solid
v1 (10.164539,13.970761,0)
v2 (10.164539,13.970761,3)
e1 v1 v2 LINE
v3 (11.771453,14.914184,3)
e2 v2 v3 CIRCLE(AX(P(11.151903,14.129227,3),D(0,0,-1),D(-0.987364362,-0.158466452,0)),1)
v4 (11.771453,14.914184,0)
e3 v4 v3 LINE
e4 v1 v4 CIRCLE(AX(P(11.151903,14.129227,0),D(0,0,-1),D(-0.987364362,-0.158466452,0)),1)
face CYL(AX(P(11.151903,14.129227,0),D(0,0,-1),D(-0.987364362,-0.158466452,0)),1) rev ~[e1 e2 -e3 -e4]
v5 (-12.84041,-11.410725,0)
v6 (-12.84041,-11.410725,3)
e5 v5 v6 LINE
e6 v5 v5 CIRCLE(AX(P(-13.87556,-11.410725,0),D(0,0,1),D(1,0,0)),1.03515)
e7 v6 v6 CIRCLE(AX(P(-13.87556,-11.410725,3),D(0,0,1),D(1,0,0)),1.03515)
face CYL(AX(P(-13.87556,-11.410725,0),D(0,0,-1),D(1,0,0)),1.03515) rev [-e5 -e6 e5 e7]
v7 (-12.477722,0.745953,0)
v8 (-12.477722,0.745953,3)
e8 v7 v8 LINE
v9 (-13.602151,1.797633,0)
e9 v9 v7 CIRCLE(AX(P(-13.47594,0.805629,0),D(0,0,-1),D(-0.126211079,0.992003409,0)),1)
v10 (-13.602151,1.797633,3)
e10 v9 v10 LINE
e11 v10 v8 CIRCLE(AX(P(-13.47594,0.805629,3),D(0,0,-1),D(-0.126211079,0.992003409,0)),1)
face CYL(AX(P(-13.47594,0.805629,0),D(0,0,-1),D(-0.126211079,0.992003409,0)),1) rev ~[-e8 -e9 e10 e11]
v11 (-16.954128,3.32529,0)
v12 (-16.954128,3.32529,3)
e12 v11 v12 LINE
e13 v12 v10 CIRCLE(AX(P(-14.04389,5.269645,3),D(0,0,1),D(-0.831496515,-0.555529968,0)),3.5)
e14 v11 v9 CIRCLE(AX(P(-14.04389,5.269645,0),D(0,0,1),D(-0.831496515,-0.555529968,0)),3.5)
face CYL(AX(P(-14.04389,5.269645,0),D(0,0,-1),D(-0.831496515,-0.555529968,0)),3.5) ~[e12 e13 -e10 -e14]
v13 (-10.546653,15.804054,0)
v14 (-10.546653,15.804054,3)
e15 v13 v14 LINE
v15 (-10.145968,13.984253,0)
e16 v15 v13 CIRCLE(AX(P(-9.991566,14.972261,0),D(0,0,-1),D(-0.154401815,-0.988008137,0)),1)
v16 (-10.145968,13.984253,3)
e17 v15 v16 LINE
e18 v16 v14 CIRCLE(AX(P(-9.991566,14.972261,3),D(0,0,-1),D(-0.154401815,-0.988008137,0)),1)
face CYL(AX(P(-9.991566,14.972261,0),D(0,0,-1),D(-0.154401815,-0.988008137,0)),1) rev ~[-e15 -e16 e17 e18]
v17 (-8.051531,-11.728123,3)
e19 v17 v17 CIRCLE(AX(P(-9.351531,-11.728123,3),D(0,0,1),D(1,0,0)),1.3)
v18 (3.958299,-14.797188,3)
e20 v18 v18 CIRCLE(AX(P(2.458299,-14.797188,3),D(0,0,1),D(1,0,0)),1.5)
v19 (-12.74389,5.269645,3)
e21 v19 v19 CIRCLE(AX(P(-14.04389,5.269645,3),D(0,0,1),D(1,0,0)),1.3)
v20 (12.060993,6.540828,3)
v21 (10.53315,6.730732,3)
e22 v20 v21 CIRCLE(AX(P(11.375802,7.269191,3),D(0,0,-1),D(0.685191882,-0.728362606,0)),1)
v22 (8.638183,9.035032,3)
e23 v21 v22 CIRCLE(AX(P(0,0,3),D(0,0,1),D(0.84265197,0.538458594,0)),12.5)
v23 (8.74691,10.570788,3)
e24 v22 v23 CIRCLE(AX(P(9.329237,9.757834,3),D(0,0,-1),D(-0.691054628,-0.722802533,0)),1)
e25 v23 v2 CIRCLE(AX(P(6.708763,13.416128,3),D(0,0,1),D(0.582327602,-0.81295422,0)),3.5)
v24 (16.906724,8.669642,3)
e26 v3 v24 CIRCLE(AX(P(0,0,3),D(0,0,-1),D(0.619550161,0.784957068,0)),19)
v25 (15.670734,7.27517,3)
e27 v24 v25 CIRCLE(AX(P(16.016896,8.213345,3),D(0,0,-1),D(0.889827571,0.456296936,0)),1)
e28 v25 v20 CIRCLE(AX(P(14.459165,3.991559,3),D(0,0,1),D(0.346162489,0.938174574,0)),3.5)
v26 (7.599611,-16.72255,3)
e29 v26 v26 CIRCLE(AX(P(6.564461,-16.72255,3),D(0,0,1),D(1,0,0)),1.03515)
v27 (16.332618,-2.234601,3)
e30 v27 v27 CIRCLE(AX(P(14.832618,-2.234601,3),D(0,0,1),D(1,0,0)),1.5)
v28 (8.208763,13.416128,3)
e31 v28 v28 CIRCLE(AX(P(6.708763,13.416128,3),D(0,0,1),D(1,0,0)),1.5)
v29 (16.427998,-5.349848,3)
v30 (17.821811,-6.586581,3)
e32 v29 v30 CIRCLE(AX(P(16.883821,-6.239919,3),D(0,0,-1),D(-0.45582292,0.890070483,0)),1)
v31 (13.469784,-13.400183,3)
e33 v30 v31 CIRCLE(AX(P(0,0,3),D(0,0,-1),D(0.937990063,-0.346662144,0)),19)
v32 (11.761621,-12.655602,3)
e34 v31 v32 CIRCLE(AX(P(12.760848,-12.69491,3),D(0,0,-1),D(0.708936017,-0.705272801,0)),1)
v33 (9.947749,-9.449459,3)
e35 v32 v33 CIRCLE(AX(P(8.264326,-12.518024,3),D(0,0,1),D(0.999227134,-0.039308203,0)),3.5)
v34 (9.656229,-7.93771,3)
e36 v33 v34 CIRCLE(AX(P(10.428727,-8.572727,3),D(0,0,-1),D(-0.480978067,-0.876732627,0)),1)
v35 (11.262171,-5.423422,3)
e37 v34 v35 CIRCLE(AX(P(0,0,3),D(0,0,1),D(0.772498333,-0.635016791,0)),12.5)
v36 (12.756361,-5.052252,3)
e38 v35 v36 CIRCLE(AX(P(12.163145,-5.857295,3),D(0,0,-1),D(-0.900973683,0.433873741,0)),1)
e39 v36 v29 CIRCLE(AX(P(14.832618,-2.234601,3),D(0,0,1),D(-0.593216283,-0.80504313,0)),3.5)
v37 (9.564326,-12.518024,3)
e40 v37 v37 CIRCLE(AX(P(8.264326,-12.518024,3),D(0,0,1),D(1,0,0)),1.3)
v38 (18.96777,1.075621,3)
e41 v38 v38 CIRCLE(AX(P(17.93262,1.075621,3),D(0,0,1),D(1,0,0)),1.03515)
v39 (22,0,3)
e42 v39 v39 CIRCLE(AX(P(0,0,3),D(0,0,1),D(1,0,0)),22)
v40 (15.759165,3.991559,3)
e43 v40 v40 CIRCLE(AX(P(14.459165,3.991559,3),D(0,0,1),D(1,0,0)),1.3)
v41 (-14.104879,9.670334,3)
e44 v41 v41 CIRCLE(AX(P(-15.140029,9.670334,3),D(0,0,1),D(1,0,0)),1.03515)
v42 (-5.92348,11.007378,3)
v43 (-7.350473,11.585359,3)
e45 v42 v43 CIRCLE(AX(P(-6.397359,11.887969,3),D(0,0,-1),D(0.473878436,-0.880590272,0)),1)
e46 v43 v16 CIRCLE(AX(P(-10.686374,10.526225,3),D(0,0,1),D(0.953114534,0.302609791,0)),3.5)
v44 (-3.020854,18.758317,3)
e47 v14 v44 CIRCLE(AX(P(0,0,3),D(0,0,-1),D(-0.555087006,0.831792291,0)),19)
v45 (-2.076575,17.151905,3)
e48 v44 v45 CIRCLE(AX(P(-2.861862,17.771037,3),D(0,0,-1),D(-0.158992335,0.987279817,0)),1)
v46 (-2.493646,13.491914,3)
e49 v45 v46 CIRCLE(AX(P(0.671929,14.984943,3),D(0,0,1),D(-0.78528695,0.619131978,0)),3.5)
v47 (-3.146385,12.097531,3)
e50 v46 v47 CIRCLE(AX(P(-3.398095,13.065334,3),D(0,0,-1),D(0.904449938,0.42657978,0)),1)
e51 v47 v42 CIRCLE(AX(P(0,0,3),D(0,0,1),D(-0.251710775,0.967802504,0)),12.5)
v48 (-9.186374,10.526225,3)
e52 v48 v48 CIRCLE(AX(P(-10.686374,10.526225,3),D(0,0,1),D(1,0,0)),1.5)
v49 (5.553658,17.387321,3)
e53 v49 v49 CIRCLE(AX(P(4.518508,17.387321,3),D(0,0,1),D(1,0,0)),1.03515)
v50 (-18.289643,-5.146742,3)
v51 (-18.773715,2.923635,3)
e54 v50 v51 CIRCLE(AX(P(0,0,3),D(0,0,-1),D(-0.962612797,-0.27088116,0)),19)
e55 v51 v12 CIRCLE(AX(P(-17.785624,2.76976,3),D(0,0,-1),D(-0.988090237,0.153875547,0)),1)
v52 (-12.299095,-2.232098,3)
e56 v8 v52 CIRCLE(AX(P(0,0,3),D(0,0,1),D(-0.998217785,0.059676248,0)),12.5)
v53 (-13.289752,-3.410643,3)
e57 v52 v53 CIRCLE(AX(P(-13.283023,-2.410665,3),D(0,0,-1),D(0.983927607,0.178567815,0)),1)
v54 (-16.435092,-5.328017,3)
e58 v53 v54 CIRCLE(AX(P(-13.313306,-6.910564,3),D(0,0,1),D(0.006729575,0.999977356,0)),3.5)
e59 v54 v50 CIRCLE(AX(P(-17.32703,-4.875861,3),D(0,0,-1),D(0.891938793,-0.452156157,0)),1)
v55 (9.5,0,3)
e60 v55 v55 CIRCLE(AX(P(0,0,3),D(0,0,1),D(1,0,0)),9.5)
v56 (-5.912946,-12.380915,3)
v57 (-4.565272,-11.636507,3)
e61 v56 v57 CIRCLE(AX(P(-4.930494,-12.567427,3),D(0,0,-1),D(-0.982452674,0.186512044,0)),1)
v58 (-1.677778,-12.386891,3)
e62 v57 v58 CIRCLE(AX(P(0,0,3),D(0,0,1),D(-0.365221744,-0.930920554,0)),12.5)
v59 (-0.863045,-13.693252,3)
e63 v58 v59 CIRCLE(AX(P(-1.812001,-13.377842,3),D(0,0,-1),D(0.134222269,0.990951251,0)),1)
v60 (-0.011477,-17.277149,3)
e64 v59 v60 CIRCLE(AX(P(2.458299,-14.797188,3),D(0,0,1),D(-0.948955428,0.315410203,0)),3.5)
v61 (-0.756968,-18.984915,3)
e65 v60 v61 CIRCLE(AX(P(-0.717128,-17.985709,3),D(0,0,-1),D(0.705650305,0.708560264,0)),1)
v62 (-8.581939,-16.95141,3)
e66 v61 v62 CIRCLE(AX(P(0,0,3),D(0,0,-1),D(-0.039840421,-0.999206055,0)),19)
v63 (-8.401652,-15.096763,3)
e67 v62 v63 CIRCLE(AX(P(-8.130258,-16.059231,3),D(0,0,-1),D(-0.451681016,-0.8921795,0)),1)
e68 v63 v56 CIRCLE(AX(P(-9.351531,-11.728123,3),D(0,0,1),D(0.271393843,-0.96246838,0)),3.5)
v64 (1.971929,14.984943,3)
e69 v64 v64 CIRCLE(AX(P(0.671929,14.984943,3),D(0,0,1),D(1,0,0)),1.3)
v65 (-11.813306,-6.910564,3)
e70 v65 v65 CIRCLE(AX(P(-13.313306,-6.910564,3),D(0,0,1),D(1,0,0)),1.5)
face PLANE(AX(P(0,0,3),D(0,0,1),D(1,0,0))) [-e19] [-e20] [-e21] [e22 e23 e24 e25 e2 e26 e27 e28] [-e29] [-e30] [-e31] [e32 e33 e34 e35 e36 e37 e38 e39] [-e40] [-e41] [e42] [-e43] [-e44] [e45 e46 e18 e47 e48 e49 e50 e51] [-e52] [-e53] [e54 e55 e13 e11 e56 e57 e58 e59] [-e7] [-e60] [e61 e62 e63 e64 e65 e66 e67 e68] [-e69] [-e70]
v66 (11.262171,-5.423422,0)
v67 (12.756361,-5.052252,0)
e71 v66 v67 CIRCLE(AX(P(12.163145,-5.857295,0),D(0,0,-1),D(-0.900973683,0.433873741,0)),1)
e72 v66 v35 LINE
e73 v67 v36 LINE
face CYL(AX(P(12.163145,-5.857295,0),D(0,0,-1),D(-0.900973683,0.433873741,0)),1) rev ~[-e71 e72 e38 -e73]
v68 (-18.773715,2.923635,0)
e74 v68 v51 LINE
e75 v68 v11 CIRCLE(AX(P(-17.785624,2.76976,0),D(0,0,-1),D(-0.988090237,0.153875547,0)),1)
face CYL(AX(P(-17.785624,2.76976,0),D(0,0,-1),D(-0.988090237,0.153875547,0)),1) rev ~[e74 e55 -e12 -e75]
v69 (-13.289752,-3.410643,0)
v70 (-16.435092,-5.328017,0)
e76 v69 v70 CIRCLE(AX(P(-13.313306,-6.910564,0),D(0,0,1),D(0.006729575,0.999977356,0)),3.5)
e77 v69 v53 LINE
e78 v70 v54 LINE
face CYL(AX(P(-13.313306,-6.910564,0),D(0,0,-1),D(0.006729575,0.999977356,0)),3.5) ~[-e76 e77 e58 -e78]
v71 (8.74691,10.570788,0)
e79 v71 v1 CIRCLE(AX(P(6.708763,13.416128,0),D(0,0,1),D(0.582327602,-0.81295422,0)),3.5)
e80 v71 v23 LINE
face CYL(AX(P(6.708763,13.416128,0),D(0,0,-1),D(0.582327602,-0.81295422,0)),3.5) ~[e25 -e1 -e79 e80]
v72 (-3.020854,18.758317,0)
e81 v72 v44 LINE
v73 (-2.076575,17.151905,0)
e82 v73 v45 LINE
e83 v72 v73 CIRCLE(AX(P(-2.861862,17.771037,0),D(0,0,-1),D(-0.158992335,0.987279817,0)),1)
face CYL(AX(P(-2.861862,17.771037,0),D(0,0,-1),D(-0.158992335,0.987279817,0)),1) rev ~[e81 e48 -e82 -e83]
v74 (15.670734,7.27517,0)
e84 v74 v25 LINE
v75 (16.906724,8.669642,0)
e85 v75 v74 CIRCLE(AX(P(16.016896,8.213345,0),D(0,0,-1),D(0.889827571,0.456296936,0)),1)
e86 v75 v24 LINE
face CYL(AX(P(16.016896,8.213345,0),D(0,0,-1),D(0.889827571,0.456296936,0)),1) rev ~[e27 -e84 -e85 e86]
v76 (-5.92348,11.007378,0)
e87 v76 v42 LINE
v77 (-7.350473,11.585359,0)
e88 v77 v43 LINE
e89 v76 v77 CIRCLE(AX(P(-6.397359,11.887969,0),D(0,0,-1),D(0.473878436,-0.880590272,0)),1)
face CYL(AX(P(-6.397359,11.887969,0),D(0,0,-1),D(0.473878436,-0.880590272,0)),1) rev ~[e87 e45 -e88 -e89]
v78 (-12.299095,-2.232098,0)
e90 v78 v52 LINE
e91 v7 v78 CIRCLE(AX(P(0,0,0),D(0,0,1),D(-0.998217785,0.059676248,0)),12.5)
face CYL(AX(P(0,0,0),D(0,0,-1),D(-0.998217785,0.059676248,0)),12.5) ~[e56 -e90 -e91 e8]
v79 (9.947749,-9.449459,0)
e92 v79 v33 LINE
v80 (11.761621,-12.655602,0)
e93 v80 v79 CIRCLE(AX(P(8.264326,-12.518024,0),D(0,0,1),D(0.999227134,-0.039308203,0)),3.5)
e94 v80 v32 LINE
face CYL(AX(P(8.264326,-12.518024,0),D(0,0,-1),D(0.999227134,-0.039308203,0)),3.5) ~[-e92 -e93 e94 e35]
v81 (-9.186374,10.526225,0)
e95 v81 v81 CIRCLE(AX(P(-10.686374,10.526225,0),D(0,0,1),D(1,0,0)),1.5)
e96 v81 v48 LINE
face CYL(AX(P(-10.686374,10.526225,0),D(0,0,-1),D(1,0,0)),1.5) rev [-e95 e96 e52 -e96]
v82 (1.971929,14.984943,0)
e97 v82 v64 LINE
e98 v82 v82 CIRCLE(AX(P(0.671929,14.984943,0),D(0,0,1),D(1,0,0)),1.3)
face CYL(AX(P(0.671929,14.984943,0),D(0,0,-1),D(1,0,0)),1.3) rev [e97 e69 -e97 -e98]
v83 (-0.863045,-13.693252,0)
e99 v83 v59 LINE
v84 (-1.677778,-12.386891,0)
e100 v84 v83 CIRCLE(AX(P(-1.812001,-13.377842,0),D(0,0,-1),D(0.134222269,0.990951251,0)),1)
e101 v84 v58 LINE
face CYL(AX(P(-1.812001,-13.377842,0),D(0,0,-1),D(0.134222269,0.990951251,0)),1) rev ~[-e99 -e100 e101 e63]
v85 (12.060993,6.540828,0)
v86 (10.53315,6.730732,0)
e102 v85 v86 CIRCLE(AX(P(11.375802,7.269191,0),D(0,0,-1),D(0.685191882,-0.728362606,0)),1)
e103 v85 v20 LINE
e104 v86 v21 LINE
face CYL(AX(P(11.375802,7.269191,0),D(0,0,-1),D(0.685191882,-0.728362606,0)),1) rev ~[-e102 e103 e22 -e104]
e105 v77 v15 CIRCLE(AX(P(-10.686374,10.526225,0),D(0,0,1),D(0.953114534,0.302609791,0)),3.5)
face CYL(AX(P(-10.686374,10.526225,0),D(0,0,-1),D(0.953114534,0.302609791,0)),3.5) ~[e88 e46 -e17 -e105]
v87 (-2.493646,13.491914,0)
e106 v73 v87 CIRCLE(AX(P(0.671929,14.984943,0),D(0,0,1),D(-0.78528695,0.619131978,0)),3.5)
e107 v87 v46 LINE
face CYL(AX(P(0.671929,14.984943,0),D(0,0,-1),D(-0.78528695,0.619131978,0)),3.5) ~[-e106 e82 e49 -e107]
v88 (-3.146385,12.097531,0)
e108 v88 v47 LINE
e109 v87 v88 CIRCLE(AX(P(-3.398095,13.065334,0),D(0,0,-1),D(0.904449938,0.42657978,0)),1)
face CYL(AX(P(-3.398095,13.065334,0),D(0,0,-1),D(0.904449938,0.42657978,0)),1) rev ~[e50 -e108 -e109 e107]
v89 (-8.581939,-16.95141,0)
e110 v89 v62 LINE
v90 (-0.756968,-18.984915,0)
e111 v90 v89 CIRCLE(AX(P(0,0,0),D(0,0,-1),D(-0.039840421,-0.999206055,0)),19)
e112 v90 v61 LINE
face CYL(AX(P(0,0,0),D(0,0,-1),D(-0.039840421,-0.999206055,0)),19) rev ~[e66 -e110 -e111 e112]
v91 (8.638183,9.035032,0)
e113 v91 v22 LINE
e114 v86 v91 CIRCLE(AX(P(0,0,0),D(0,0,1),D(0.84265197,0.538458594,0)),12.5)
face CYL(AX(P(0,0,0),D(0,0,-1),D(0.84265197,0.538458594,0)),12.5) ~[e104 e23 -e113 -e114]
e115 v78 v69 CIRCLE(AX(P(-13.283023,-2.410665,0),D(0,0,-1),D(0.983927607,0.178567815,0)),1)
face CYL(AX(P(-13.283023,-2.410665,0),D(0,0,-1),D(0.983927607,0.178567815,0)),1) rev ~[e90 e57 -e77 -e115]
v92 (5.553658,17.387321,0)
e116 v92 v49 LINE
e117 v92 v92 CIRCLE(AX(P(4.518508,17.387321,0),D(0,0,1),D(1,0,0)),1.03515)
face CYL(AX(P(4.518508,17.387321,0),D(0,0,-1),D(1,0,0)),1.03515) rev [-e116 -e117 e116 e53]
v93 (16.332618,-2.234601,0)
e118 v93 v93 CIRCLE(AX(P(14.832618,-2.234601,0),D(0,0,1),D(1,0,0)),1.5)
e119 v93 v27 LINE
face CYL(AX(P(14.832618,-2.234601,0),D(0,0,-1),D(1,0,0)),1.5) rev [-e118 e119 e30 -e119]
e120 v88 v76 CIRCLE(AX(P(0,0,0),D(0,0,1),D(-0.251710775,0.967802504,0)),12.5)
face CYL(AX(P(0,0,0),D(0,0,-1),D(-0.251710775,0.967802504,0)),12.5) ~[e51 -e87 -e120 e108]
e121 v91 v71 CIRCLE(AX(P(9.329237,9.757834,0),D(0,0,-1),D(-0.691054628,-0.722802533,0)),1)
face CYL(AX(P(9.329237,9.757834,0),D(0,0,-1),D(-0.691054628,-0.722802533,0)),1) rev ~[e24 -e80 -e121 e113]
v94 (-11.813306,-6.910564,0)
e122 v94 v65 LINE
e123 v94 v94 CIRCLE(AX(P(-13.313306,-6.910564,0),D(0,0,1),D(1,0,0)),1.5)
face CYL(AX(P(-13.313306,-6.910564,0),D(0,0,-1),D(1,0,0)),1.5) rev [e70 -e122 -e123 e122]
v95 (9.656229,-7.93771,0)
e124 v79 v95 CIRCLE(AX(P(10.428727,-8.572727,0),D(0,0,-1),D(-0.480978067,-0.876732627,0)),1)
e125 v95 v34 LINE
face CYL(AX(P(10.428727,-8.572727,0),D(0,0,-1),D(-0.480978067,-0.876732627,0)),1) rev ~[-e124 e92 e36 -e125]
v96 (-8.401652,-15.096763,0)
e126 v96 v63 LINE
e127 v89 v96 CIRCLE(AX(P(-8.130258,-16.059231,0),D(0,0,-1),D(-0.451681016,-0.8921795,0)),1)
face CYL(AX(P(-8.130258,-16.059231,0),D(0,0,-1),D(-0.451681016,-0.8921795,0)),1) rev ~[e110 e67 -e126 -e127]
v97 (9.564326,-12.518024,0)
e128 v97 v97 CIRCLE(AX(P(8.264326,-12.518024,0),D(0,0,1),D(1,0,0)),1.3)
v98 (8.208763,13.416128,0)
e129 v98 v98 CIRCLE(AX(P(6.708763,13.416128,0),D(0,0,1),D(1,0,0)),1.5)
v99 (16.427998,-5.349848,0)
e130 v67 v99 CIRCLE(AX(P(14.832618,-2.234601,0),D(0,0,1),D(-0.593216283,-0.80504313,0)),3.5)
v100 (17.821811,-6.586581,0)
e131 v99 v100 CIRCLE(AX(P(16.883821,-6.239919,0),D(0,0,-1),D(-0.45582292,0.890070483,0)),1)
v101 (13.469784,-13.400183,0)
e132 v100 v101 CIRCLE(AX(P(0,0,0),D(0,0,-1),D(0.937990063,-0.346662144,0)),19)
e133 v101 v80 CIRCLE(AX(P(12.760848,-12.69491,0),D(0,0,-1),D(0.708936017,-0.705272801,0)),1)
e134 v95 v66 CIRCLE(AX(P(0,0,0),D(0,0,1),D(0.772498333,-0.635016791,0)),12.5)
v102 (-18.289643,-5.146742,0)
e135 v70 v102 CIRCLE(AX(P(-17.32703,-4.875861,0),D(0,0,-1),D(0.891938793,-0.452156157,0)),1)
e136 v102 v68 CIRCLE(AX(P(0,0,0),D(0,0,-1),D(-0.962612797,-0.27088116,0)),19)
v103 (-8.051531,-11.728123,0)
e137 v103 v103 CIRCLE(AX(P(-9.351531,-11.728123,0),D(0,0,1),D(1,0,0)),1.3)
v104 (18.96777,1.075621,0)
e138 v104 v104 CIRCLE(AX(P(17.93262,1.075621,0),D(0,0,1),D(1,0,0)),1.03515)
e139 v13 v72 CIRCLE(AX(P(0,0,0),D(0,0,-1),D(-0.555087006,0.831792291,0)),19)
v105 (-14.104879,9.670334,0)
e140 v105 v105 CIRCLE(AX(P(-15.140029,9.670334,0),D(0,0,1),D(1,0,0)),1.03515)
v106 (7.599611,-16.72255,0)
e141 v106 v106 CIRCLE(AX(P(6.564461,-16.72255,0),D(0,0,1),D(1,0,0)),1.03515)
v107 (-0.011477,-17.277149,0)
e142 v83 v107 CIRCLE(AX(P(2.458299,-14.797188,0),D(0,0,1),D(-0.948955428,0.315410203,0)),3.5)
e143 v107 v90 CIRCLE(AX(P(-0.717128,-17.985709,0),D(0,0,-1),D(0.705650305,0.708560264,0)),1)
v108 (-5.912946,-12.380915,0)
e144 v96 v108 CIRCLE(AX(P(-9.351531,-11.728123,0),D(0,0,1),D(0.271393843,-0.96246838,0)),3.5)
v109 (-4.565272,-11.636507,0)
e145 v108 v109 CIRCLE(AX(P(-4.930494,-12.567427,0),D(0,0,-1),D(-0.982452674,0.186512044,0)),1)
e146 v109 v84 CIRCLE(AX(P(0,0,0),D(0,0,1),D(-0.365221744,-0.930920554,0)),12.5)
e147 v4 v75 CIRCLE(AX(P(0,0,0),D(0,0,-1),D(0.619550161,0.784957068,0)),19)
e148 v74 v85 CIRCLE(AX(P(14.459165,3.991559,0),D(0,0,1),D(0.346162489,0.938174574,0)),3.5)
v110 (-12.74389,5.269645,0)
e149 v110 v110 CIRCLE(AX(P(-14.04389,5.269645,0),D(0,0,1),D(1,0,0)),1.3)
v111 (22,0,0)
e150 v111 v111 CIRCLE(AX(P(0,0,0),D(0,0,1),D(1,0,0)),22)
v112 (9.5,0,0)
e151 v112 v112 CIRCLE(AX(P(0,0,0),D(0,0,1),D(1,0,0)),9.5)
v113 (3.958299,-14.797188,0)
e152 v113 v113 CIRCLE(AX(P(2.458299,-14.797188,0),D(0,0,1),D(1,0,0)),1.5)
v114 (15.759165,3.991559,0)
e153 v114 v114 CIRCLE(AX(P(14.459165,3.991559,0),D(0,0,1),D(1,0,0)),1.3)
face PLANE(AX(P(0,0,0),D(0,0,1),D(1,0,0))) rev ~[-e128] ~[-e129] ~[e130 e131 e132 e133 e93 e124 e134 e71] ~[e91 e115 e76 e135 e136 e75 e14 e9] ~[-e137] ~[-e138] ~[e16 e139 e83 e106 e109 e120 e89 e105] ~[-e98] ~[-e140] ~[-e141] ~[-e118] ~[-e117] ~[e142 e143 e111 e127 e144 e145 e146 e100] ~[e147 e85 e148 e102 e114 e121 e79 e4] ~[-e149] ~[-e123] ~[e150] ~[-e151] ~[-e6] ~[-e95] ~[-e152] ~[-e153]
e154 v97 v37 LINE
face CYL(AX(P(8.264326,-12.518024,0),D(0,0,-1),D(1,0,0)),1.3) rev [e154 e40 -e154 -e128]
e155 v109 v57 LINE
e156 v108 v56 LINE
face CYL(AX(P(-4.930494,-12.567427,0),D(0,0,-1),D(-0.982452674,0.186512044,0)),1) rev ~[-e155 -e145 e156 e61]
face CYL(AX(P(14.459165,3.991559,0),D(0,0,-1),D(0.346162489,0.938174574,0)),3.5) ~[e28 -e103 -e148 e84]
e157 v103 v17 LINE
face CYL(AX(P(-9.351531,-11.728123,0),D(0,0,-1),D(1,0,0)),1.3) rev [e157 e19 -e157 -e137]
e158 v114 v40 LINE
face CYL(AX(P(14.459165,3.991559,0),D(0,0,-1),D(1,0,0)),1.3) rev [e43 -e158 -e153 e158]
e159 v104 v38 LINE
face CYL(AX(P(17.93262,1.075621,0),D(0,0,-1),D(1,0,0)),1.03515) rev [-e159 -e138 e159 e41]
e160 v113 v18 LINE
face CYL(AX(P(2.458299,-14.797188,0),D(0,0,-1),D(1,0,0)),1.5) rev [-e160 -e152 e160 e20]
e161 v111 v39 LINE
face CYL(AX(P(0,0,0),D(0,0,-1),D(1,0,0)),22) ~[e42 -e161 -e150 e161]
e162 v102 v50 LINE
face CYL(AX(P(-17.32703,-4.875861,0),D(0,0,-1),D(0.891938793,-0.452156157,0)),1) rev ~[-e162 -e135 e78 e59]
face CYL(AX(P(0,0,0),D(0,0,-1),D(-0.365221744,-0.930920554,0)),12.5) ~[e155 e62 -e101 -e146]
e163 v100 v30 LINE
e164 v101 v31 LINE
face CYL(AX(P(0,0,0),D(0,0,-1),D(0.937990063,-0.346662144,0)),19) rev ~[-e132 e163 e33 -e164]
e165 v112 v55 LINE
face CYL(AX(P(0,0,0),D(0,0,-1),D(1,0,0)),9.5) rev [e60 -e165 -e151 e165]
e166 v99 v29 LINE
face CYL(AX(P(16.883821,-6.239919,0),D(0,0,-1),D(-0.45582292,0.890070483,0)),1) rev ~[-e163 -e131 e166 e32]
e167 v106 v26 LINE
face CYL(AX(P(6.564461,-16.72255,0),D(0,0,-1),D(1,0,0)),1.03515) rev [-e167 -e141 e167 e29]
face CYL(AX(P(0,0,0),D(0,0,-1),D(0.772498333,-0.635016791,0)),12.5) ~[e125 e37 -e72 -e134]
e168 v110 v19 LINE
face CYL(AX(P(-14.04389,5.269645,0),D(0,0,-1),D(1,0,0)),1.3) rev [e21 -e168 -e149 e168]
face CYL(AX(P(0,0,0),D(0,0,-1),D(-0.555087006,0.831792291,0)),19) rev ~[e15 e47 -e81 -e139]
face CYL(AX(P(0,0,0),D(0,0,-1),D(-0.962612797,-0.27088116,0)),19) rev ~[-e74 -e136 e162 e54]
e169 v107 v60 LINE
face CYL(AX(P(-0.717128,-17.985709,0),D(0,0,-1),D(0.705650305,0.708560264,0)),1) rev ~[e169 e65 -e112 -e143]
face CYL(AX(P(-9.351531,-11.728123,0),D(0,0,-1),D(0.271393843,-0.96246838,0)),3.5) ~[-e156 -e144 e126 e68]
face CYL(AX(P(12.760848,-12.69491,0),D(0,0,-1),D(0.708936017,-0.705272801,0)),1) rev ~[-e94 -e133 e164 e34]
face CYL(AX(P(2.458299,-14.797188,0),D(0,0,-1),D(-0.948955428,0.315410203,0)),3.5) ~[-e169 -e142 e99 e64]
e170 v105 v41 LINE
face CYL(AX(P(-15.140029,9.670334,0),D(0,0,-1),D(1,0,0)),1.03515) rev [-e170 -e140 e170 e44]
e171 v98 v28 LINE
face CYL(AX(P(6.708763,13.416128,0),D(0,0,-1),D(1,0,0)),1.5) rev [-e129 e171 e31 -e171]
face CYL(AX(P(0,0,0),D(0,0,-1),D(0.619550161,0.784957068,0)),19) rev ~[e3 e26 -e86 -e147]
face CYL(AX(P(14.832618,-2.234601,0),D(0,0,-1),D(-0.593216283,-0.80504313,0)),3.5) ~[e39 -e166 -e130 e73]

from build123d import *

# Parameters (mm, degrees)
SKETCH_1_R      = 22
SKETCH_1_R_2    = 9.5
SKETCH_1_R_3    = 1.3
SKETCH_1_R_4    = 1.5
SKETCH_1_R_5    = 1.035150144
EXTRUDE_1_DEPTH = 3


with BuildPart() as part:
    # 草图1 → 凸台-拉伸1 (new body)
    with BuildSketch(Plane.XY):
        Circle(SKETCH_1_R)
        Circle(SKETCH_1_R_2, mode=Mode.SUBTRACT)
        with Locations((8.264326198, -12.518023506)):
            Circle(SKETCH_1_R_3, mode=Mode.SUBTRACT)
        with Locations((-9.351530584, -11.728123283)):
            Circle(SKETCH_1_R_3, mode=Mode.SUBTRACT)
        with Locations((-14.043889946, 5.269644693)):
            Circle(SKETCH_1_R_3, mode=Mode.SUBTRACT)
        with Locations((0.671929263, 14.984942812)):
            Circle(SKETCH_1_R_3, mode=Mode.SUBTRACT)
        with Locations((14.459165069, 3.991559284)):
            Circle(SKETCH_1_R_3, mode=Mode.SUBTRACT)
        with Locations((6.708763262, 13.416128186)):
            Circle(SKETCH_1_R_4, mode=Mode.SUBTRACT)
        with Locations((14.832617994, -2.234601409)):
            Circle(SKETCH_1_R_4, mode=Mode.SUBTRACT)
        with Locations((2.4582988, -14.797187807)):
            Circle(SKETCH_1_R_4, mode=Mode.SUBTRACT)
        with Locations((-13.313305781, -6.910563594)):
            Circle(SKETCH_1_R_4, mode=Mode.SUBTRACT)
        with Locations((-10.686374275, 10.526224625)):
            Circle(SKETCH_1_R_4, mode=Mode.SUBTRACT)
        with Locations((-15.140028741, 9.670334022)):
            Circle(SKETCH_1_R_5, mode=Mode.SUBTRACT)
        with Locations((4.51850801, 17.387320545)):
            Circle(SKETCH_1_R_5, mode=Mode.SUBTRACT)
        with Locations((17.932620269, 1.075621048)):
            Circle(SKETCH_1_R_5, mode=Mode.SUBTRACT)
        with Locations((6.564460824, -16.722550178)):
            Circle(SKETCH_1_R_5, mode=Mode.SUBTRACT)
        with Locations((-13.875560362, -11.410725437)):
            Circle(SKETCH_1_R_5, mode=Mode.SUBTRACT)
        with BuildLine():
            ThreePointArc((-5.923480438, 11.007378412), (-6.772768209, 10.961109563), (-7.350473407, 11.585358894))
            ThreePointArc((-7.350473407, 11.585358894), (-8.407095271, 13.182328392), (-10.145967922, 13.984253106))
            ThreePointArc((-10.145967922, 13.984253106), (-10.968173498, 14.757231005), (-10.546653113, 15.804053534))
            ThreePointArc((-10.546653113, 15.804053534), (-6.942710719, 17.686117943), (-3.020854346, 18.758316529))
            ThreePointArc((-3.020854346, 18.758316529), (-1.999770978, 18.277790153), (-2.076575062, 17.151904734))
            ThreePointArc((-2.076575062, 17.151904734), (-2.805565056, 15.381217034), (-2.49364552, 13.491913579))
            ThreePointArc((-2.49364552, 13.491913579), (-2.492417598, 12.641367275), (-3.146384684, 12.097531295))
            ThreePointArc((-3.146384684, 12.097531295), (-4.567572841, 11.63560391), (-5.923480438, 11.007378412))
        make_face(mode=Mode.SUBTRACT)
        with BuildLine():
            ThreePointArc((10.533149631, 6.730732416), (9.654659288, 7.939619262), (8.638182844, 9.035031663))
            ThreePointArc((8.638182844, 9.035031663), (8.3317342, 9.82845447), (8.74690987, 10.570788416))
            ThreePointArc((8.74690987, 10.570788416), (9.939204005, 12.069186239), (10.164538529, 13.97076077))
            ThreePointArc((10.164538529, 13.97076077), (10.645608702, 14.991588048), (11.771453052, 14.91418429))
            ThreePointArc((11.771453052, 14.91418429), (14.675082118, 12.068221279), (16.90672384, 8.669641804))
            ThreePointArc((16.90672384, 8.669641804), (16.765248211, 7.550042997), (15.67073378, 7.275170293))
            ThreePointArc((15.67073378, 7.275170293), (13.761439408, 7.421308386), (12.060993483, 6.540828404))
            ThreePointArc((12.060993483, 6.540828404), (11.252455327, 6.276827318), (10.533149631, 6.730732416))
        make_face(mode=Mode.SUBTRACT)
        with BuildLine():
            ThreePointArc((9.656229164, -7.937709892), (10.534480431, -6.728649348), (11.262171037, -5.423421755))
            ThreePointArc((11.262171037, -5.423421755), (11.92206313, -4.886790644), (12.756361003, -5.052252365))
            ThreePointArc((12.756361003, -5.052252365), (14.549861167, -5.72316108), (16.427998213, -5.349848101))
            ThreePointArc((16.427998213, -5.349848101), (17.547521507, -5.491920046), (17.821811196, -6.586580728))
            ThreePointArc((17.821811196, -6.586580728), (16.012410255, -10.227547009), (13.469784317, -13.400183224))
            ThreePointArc((13.469784317, -13.400183224), (12.361264202, -13.611606964), (11.761621167, -12.655602219))
            ThreePointArc((11.761621167, -12.655602219), (11.310602344, -10.794596211), (9.947749431, -9.449459311))
            ThreePointArc((9.947749431, -9.449459311), (9.446817447, -8.762074651), (9.656229164, -7.937709892))
        make_face(mode=Mode.SUBTRACT)
        with BuildLine():
            ThreePointArc((-4.565271804, -11.636506922), (-3.143992328, -12.098153257), (-1.677778356, -12.386890642))
            ThreePointArc((-1.677778356, -12.386890642), (-0.96349397, -12.848657184), (-0.863045197, -13.693252097))
            ThreePointArc((-0.863045197, -13.693252097), (-0.946895272, -15.60629431), (-0.011477266, -17.277148731))
            ThreePointArc((-0.011477266, -17.277148731), (0.199356008, -18.3857813), (-0.756967992, -18.98491505))
            ThreePointArc((-0.756967992, -18.98491505), (-4.778868338, -18.389192951), (-8.58193931, -16.951410492))
            ThreePointArc((-8.58193931, -16.951410492), (-9.12556679, -15.962478742), (-8.401652136, -15.096762613))
            ThreePointArc((-8.401652136, -15.096762613), (-6.771102726, -14.092735739), (-5.912946223, -12.380915433))
            ThreePointArc((-5.912946223, -12.380915433), (-5.414001059, -11.692087264), (-4.565271804, -11.636506922))
        make_face(mode=Mode.SUBTRACT)
        with BuildLine():
            ThreePointArc((-12.477722307, 0.745953104), (-12.47757455, -0.748420566), (-12.299095087, -2.232097677))
            ThreePointArc((-12.299095087, -2.232097677), (-12.517535151, -3.054116206), (-13.289752269, -3.410642848))
            ThreePointArc((-13.289752269, -3.410642848), (-15.135074629, -3.922059242), (-16.435091554, -5.328017043))
            ThreePointArc((-16.435091554, -5.328017043), (-17.424312718, -5.871117707), (-18.289643143, -5.146742046))
            ThreePointArc((-18.289643143, -5.146742046), (-18.965913316, -1.137599261), (-18.773714501, 2.923635383))
            ThreePointArc((-18.773714501, 2.923635383), (-18.001174645, 3.746252557), (-16.954127749, 3.325289805))
            ThreePointArc((-16.954127749, 3.325289805), (-15.49537397, 2.084806529), (-13.60215117, 1.797632761))
            ThreePointArc((-13.60215117, 1.797632761), (-12.792854116, 1.535967322), (-12.477722307, 0.745953104))
        make_face(mode=Mode.SUBTRACT)
    extrude(amount=EXTRUDE_1_DEPTH)


solid = part.part
